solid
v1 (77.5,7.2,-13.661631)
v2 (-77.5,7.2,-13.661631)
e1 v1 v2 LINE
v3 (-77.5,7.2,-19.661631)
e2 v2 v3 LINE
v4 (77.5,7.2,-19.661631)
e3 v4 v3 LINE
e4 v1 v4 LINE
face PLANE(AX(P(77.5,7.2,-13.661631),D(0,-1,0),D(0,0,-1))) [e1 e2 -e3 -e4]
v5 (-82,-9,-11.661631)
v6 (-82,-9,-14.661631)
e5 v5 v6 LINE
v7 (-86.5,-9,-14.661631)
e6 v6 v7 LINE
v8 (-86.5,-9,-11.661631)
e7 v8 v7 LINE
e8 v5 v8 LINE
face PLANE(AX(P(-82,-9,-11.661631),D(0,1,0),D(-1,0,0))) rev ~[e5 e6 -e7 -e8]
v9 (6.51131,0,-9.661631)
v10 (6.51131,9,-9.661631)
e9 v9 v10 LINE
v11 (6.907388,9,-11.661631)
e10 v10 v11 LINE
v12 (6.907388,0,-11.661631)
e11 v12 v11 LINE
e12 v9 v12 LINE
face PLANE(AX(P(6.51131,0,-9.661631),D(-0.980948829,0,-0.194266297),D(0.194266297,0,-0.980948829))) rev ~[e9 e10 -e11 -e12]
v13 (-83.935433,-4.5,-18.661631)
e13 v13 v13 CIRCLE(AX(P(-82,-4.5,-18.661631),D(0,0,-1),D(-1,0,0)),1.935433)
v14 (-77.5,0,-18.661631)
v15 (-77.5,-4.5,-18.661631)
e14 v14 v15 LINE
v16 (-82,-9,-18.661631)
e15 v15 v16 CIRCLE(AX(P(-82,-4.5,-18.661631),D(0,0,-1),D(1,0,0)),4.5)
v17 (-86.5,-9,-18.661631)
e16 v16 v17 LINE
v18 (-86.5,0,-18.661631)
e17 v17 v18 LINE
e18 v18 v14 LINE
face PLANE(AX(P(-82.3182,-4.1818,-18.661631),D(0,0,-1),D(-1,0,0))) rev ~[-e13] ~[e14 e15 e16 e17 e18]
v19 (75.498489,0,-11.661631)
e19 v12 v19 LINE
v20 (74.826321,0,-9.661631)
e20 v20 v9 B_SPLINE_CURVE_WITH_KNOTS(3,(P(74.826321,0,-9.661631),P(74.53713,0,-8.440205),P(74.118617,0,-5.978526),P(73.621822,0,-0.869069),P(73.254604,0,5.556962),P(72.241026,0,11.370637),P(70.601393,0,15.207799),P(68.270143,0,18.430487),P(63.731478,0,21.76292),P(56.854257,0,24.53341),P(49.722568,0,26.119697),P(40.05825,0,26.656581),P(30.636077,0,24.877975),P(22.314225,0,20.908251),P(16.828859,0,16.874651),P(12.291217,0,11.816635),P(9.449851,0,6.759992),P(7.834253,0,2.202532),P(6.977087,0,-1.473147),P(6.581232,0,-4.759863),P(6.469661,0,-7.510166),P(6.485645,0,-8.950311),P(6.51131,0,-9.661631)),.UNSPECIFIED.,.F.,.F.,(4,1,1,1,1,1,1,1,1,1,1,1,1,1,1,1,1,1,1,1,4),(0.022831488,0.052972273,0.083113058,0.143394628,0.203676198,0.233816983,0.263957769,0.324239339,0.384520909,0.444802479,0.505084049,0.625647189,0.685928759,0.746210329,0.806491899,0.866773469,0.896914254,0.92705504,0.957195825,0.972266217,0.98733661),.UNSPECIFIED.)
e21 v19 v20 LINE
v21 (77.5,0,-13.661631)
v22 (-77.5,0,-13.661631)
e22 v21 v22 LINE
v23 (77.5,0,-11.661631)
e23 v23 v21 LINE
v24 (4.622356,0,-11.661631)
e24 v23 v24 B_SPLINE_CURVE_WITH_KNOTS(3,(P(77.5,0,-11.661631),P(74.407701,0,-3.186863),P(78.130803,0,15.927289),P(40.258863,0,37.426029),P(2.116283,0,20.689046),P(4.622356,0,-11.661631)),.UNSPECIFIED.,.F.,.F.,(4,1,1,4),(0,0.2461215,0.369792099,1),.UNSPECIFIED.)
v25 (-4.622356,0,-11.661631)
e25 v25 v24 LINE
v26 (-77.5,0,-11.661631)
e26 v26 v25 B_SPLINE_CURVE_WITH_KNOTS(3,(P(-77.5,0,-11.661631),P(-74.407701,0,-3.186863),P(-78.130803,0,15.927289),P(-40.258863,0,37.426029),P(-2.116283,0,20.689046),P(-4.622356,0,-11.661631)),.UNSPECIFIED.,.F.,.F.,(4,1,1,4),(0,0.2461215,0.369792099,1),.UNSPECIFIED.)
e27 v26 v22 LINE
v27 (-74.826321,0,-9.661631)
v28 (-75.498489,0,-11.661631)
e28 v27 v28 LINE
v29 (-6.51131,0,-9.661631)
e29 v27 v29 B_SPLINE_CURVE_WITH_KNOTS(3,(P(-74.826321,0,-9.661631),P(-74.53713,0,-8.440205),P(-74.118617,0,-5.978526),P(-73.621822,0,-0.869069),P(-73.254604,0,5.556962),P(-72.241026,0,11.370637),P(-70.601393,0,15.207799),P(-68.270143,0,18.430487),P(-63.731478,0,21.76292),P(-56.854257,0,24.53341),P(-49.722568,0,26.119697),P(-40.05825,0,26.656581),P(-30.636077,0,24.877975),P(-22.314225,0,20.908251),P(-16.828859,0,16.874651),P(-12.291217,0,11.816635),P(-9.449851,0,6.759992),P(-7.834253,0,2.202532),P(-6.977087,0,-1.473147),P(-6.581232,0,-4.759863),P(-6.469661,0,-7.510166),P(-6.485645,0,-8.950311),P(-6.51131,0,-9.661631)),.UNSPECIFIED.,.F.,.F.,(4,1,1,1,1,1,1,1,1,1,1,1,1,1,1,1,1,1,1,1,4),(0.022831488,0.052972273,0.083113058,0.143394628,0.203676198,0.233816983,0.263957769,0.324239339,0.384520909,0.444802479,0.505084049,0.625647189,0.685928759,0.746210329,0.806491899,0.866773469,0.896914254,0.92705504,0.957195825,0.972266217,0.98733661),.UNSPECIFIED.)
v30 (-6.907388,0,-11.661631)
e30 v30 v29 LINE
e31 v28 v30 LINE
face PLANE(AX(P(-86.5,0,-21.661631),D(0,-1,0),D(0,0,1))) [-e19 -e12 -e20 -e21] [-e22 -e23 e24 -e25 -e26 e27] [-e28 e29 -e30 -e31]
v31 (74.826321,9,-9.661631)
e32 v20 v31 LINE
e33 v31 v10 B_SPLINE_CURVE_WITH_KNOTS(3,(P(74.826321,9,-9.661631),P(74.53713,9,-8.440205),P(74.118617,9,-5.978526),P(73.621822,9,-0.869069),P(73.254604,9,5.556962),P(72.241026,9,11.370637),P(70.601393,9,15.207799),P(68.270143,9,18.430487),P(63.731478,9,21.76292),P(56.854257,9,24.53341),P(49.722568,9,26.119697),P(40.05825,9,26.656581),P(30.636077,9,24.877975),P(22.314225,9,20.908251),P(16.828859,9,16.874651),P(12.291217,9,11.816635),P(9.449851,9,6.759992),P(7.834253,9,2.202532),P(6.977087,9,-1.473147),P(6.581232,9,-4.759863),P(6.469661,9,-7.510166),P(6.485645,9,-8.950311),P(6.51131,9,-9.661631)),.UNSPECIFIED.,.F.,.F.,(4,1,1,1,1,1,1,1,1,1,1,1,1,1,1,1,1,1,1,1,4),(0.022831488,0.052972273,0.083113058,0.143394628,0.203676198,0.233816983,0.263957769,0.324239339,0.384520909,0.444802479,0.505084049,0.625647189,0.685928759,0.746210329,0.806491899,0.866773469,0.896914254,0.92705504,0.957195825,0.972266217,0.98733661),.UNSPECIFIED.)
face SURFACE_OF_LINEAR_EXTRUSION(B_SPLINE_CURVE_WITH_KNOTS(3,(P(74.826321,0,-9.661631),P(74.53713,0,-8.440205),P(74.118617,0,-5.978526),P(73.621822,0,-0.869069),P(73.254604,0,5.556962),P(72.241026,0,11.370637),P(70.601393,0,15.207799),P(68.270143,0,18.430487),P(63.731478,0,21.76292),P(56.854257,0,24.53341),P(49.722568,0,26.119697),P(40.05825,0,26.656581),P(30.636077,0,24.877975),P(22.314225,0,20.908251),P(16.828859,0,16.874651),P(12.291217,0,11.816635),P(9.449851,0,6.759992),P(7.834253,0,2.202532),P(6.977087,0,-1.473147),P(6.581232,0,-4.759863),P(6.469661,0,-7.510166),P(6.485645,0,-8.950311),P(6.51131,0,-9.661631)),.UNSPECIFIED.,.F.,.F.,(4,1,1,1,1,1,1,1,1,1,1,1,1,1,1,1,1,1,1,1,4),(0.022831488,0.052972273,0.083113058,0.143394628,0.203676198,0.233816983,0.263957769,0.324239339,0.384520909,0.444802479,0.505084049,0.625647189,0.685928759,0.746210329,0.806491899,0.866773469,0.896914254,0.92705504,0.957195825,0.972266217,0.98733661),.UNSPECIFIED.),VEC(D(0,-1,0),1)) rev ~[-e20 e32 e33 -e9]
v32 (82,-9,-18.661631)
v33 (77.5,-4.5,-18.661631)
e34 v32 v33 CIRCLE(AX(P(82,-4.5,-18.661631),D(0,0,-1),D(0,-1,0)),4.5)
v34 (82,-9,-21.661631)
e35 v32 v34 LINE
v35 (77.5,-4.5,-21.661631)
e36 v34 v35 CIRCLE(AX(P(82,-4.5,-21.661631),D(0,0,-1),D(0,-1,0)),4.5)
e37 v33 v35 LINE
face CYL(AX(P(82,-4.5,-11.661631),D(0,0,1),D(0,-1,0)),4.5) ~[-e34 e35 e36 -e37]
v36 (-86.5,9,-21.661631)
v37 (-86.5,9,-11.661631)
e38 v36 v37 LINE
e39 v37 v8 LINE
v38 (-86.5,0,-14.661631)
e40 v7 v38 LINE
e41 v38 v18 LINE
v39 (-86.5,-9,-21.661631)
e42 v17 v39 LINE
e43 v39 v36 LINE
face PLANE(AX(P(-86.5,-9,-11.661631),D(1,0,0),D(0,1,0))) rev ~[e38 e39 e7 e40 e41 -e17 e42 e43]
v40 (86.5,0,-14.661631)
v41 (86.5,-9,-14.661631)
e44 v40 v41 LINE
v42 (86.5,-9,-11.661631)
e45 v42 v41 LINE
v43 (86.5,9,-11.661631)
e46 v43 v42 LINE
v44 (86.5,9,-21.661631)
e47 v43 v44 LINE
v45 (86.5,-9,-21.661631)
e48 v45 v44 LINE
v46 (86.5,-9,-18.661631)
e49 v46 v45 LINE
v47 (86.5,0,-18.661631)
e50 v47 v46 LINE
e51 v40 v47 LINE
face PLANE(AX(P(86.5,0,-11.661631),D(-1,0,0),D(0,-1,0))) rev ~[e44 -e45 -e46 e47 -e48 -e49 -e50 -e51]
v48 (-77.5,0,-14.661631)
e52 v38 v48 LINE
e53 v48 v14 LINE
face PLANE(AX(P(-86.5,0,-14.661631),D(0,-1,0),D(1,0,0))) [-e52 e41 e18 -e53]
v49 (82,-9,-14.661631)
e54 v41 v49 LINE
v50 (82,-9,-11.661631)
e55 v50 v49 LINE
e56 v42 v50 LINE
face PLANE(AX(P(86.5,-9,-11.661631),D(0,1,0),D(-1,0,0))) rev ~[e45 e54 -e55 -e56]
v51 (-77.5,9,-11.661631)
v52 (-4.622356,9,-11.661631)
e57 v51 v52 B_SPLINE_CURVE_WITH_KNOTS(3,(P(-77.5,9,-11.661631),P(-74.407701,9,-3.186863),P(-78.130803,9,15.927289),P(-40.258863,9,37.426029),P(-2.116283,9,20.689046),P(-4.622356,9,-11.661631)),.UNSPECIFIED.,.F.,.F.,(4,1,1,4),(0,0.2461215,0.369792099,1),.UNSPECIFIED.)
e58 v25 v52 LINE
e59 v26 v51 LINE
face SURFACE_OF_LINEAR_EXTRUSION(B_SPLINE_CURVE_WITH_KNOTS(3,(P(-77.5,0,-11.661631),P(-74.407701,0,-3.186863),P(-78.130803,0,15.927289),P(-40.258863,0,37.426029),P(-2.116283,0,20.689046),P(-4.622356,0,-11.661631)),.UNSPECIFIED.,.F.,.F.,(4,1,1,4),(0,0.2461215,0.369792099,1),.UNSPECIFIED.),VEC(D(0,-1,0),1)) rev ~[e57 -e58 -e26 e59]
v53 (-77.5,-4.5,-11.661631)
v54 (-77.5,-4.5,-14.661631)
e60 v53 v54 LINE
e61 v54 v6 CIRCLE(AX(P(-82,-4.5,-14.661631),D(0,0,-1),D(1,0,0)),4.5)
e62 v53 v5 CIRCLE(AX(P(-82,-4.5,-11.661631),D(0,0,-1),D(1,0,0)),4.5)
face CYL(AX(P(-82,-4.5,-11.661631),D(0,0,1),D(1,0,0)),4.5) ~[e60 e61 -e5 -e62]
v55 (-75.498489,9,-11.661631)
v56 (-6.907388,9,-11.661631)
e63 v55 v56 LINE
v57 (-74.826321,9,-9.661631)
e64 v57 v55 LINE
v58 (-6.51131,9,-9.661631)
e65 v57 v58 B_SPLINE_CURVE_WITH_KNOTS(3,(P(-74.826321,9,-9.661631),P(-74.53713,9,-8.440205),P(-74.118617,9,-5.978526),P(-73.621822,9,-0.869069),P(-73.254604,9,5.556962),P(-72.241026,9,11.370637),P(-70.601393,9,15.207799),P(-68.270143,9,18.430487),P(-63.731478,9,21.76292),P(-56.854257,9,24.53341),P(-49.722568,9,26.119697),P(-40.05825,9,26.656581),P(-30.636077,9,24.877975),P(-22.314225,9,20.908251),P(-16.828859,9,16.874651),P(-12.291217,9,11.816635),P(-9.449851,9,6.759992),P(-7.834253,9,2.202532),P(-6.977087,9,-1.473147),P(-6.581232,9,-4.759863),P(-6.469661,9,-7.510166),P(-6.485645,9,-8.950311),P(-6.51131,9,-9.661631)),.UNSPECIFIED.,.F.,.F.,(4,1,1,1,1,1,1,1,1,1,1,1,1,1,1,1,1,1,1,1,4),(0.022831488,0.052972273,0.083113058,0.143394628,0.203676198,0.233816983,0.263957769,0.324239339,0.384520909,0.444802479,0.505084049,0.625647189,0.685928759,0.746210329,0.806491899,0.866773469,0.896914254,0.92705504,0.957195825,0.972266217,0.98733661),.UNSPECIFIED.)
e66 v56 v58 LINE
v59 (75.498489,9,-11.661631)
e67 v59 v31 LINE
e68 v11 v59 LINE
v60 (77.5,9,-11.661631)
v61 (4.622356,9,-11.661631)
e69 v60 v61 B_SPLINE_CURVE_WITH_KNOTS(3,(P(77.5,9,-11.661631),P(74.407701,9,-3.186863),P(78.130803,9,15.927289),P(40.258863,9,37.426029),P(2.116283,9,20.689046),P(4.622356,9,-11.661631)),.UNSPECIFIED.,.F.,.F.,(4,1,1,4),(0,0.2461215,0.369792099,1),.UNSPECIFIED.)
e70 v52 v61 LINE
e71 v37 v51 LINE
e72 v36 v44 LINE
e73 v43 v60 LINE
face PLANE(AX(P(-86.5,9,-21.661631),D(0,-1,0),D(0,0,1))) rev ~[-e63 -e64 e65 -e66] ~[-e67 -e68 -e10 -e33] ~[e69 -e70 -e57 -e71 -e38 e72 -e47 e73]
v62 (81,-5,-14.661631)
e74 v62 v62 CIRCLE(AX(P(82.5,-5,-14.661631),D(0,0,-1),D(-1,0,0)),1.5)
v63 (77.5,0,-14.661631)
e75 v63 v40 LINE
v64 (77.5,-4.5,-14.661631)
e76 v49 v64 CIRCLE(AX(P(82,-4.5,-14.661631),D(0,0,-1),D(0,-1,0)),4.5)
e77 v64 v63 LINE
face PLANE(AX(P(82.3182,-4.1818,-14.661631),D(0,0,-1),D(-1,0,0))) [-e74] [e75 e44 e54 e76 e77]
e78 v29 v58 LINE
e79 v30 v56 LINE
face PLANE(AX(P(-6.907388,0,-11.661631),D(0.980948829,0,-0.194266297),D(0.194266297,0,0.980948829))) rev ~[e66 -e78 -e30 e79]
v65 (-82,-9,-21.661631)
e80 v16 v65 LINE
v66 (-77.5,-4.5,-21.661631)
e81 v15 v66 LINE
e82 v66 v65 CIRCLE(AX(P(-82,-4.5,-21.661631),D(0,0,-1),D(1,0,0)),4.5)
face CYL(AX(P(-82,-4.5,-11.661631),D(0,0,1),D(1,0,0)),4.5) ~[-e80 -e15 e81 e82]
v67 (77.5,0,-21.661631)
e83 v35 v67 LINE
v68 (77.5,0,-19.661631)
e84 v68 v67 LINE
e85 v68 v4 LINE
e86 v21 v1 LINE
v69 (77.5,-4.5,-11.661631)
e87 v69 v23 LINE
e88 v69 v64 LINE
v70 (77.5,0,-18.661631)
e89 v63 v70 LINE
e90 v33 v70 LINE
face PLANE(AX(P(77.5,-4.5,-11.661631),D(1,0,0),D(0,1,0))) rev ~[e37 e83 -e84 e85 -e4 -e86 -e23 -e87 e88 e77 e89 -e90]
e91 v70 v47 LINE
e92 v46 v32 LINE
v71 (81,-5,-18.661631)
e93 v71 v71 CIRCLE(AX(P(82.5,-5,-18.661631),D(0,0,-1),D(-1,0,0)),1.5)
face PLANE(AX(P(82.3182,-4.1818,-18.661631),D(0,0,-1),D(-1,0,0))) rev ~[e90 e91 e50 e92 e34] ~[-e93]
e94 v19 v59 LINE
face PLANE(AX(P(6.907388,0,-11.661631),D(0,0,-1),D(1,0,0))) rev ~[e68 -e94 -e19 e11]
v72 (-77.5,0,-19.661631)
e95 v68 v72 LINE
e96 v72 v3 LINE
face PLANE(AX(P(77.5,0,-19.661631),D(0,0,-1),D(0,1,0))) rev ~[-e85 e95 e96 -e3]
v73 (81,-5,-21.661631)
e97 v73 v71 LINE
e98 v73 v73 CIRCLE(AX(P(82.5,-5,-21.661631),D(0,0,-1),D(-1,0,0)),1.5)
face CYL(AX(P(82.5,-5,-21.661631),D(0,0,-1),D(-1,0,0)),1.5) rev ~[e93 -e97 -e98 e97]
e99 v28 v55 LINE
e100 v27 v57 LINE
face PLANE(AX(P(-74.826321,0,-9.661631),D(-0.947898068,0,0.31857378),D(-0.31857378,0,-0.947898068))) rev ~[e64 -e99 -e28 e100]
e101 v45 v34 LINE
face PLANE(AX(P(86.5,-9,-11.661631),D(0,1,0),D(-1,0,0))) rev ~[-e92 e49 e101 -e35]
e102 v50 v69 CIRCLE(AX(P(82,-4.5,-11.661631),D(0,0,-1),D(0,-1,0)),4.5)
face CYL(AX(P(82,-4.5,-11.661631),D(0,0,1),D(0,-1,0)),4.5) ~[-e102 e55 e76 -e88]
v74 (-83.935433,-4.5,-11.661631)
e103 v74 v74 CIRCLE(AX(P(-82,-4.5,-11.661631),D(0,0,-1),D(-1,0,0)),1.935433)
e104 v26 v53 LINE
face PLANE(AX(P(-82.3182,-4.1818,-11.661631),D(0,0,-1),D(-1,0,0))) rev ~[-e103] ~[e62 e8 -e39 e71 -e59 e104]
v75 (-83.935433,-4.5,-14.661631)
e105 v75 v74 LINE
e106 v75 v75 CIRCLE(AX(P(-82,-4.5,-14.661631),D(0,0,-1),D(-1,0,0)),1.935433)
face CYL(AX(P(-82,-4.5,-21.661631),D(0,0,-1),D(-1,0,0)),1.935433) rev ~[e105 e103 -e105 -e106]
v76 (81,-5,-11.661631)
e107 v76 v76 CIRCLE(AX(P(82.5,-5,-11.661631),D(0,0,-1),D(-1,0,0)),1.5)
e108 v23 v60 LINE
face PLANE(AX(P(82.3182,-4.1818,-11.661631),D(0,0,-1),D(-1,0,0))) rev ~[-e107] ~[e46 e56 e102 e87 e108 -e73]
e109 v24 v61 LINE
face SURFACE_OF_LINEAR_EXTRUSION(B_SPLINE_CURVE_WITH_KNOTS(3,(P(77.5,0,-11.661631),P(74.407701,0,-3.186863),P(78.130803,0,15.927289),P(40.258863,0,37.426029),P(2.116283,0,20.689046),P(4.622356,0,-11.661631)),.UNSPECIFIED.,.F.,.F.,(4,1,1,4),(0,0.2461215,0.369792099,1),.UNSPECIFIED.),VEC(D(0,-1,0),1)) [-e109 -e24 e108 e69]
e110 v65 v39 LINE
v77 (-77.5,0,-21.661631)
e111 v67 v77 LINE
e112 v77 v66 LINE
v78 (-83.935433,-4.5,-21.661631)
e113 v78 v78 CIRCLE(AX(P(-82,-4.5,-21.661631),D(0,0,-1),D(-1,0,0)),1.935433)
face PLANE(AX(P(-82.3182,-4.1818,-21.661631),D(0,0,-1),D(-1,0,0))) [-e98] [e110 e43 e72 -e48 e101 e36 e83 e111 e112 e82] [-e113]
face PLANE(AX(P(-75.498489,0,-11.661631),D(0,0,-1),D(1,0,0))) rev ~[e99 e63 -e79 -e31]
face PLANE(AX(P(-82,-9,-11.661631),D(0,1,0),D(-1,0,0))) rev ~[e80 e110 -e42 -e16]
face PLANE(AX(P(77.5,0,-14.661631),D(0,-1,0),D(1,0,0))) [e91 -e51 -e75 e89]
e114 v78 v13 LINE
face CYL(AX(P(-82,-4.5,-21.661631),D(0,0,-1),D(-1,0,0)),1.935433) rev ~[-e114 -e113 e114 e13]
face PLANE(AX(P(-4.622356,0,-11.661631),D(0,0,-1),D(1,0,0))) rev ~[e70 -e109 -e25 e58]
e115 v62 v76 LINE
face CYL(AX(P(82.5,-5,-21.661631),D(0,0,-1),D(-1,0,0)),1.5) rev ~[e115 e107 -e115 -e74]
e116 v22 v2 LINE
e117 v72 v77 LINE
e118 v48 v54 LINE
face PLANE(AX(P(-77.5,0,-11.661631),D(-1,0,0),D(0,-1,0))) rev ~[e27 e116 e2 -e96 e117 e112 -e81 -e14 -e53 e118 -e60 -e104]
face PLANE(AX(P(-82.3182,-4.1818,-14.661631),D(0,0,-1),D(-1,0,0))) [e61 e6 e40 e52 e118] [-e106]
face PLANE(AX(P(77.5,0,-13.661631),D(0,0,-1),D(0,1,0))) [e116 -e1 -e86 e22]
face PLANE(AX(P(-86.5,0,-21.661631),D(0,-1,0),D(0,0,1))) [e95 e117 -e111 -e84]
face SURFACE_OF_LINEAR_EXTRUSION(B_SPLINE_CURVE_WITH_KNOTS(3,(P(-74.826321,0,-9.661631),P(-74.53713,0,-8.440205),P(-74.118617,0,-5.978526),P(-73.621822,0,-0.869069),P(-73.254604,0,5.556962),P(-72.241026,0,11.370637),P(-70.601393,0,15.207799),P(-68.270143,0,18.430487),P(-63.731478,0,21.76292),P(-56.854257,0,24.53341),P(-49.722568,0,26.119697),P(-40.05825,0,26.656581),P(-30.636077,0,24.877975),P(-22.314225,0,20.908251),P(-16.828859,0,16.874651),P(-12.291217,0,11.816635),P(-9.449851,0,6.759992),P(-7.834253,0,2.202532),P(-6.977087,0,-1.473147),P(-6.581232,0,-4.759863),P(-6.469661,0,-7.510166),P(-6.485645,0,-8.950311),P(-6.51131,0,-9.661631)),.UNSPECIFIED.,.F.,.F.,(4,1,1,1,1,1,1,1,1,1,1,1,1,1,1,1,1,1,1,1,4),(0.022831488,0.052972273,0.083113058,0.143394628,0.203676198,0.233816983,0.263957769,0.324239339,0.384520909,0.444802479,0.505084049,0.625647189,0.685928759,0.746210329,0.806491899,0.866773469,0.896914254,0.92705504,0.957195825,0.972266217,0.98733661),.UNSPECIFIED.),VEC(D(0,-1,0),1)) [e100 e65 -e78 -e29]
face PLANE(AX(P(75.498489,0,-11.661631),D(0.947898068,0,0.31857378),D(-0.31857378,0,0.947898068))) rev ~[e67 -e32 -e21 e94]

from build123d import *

# Parameters (mm, degrees)
FRAME_DEPTH             = 9
SKETCH_5_W              = 10
SKETCH_5_H              = 9
CONNECTION_DEPTH        = 9
CONNECTION_2_DEPTH      = 5
CONNECTION_START        = -5
CONNECTION_3_DEPTH      = 5
CONNECTION_START_2      = -2
CONNECTION_4_DEPTH      = 2
CONNECTION_5_DEPTH      = 2
SKETCH_1966_W           = 6
SKETCH_1966_H           = 7.2
CUT_EXTRUDE_2047_DEPTH  = 155
SKETCH_12_W             = 10
SKETCH_12_H             = 9
CONNECTION_6_DEPTH      = 9
CONNECTION_7_DEPTH      = 5
CONNECTION_8_DEPTH      = 5
CONNECTION_9_DEPTH      = 2
CONNECTION_10_DEPTH     = 2
SKETCH_2692_OUTSIDE_W   = 211.196
SKETCH_2692_OUTSIDE_H   = 56.196
SKETCH_2692_OUTSIDE_R   = 1.5
SKETCH_2692_OUTSIDE_R_2 = 1.935432659
CUT_EXTRUDE_3247_DEPTH  = 101.317909756


with BuildPart() as part:
    # 草图1 → frame (new body)
    with BuildSketch(Plane(origin=(0, 0, 0), x_dir=(1, 0, 0), z_dir=(0, 1, 0))):
        with BuildLine():
            Line((77.5, 21.66163142), (-77.5, 21.66163142))
            Line((-77.5, 21.66163142), (-77.5, 11.66163142))
            add(Edge.make_bspline(
                [(-77.5, 11.66163142), (-74.407700798, 3.186863233), (-78.13080327, -15.927288699), (-40.25886312, -37.426028597), (-2.116282918, -20.689046368), (-4.622356495, 11.66163142)],
                knots=[0, 0, 0, 0, 0.2461215, 0.369792099, 1, 1, 1, 1], degree=3))
            Line((-4.622356495, 11.66163142), (4.622356495, 11.66163142))
            add(Edge.make_bspline(
                [(77.5, 11.66163142), (74.407700798, 3.186863233), (78.13080327, -15.927288699), (40.25886312, -37.426028597), (2.116282918, -20.689046368), (4.622356495, 11.66163142)],
                knots=[0, 0, 0, 0, 0.2461215, 0.369792099, 1, 1, 1, 1], degree=3))
            Line((77.5, 11.66163142), (77.5, 21.66163142))
        make_face()
        with BuildLine():
            Line((6.907388487, 11.66163142), (75.498489426, 11.66163142))
            Line((75.498489426, 11.66163142), (74.826320569, 9.66163142))
            add(Edge.make_bspline(
                [(74.826320569, 9.66163142), (74.537129512, 8.440205397), (74.118616889, 5.97852646), (73.621822389, 0.86906895), (73.254603503, -5.556962308), (72.241025744, -11.370637322), (70.601393479, -15.207799235), (68.270143007, -18.43048657), (63.731478169, -21.762919869), (56.85425746, -24.533410045), (49.722568077, -26.119696622), (40.058249914, -26.656581209), (30.63607695, -24.877975202), (22.314225365, -20.908251341), (16.828859323, -16.874650673), (12.291217041, -11.816635216), (9.449850549, -6.759991518), (7.834253455, -2.202532167), (6.977086921, 1.473147324), (6.581231794, 4.759863142), (6.469661343, 7.510165764), (6.485645336, 8.950311376), (6.511310136, 9.66163142)],
                knots=[0.022831488, 0.022831488, 0.022831488, 0.022831488, 0.052972273, 0.083113058, 0.143394628, 0.203676198, 0.233816983, 0.263957769, 0.324239339, 0.384520909, 0.444802479, 0.505084049, 0.625647189, 0.685928759, 0.746210329, 0.806491899, 0.866773469, 0.896914254, 0.92705504, 0.957195825, 0.972266217, 0.98733661, 0.98733661, 0.98733661, 0.98733661], degree=3))
            Line((6.511310136, 9.66163142), (6.907388487, 11.66163142))
        make_face(mode=Mode.SUBTRACT)
        with BuildLine():
            Line((-75.498489426, 11.66163142), (-6.907388487, 11.66163142))
            Line((-6.907388487, 11.66163142), (-6.511310136, 9.66163142))
            add(Edge.make_bspline(
                [(-74.826320569, 9.66163142), (-74.537129512, 8.440205397), (-74.118616889, 5.97852646), (-73.621822389, 0.86906895), (-73.254603503, -5.556962308), (-72.241025744, -11.370637322), (-70.601393479, -15.207799235), (-68.270143007, -18.43048657), (-63.731478169, -21.762919869), (-56.85425746, -24.533410045), (-49.722568077, -26.119696622), (-40.058249914, -26.656581209), (-30.63607695, -24.877975202), (-22.314225365, -20.908251341), (-16.828859323, -16.874650673), (-12.291217041, -11.816635216), (-9.449850549, -6.759991518), (-7.834253455, -2.202532167), (-6.977086921, 1.473147324), (-6.581231794, 4.759863142), (-6.469661343, 7.510165764), (-6.485645336, 8.950311376), (-6.511310136, 9.66163142)],
                knots=[0.022831488, 0.022831488, 0.022831488, 0.022831488, 0.052972273, 0.083113058, 0.143394628, 0.203676198, 0.233816983, 0.263957769, 0.324239339, 0.384520909, 0.444802479, 0.505084049, 0.625647189, 0.685928759, 0.746210329, 0.806491899, 0.866773469, 0.896914254, 0.92705504, 0.957195825, 0.972266217, 0.98733661, 0.98733661, 0.98733661, 0.98733661], degree=3))
            Line((-74.826320569, 9.66163142), (-75.498489426, 11.66163142))
        make_face(mode=Mode.SUBTRACT)
    extrude(amount=FRAME_DEPTH)

    # 草图5 → connection (add)
    with BuildSketch(Plane(origin=(86.5, 0, 0), x_dir=(0, 0, -1), z_dir=(1, 0, 0))):
        with Locations((16.66163142, 4.5)):
            Rectangle(SKETCH_5_W, SKETCH_5_H)
    extrude(amount=-CONNECTION_DEPTH)

    # 草图9 → connection 2 (add)
    with BuildSketch(Plane(origin=(0, 0, -16.66163142), x_dir=(-1, 0, 0), z_dir=(0, 0, -1))):
        with BuildLine():
            Line((-86.5, 0), (-86.5, -9))
            Line((-86.5, -9), (-82, -9))
            ThreePointArc((-82, -9), (-78.818019485, -7.681980515), (-77.5, -4.5))
            Line((-77.5, -4.5), (-77.5, 0))
            Line((-77.5, 0), (-86.5, 0))
        make_face()
    extrude(amount=CONNECTION_2_DEPTH)

    # 草图9<3> → connection 3 (add)
    with BuildSketch(Plane(origin=(0, 0, -16.66163142), x_dir=(-1, 0, 0), z_dir=(0, 0, -1)).offset(CONNECTION_START)):
        with BuildLine():
            Line((-86.5, 0), (-86.5, -9))
            Line((-86.5, -9), (-82, -9))
            ThreePointArc((-82, -9), (-78.818019485, -7.681980515), (-77.5, -4.5))
            Line((-77.5, -4.5), (-77.5, 0))
            Line((-77.5, 0), (-86.5, 0))
        make_face()
    extrude(amount=CONNECTION_3_DEPTH)

    # 草图9<4> → connection 4 (cut)
    with BuildSketch(Plane(origin=(0, 0, -16.66163142), x_dir=(-1, 0, 0), z_dir=(0, 0, -1)).offset(CONNECTION_START_2)):
        with BuildLine():
            Line((-86.5, 0), (-86.5, -9))
            Line((-86.5, -9), (-82, -9))
            ThreePointArc((-82, -9), (-78.818019485, -7.681980515), (-77.5, -4.5))
            Line((-77.5, -4.5), (-77.5, 0))
            Line((-77.5, 0), (-86.5, 0))
        make_face()
    extrude(amount=CONNECTION_4_DEPTH, mode=Mode.SUBTRACT)

    # 草图9<6> → connection 5 (cut)
    with BuildSketch(Plane(origin=(0, 0, -16.66163142), x_dir=(-1, 0, 0), z_dir=(0, 0, -1))):
        with BuildLine():
            Line((-86.5, 0), (-86.5, -9))
            Line((-86.5, -9), (-82, -9))
            ThreePointArc((-82, -9), (-78.818019485, -7.681980515), (-77.5, -4.5))
            Line((-77.5, -4.5), (-77.5, 0))
            Line((-77.5, 0), (-86.5, 0))
        make_face()
    extrude(amount=CONNECTION_5_DEPTH, mode=Mode.SUBTRACT)

    # Sketch 1966 → Cut-Extrude 2047 (cut)
    with BuildSketch(Plane(origin=(77.5, 0, 0), x_dir=(0, 0, -1), z_dir=(1, 0, 0))):
        with Locations((16.66163142, 3.6)):
            Rectangle(SKETCH_1966_W, SKETCH_1966_H)
    extrude(amount=-CUT_EXTRUDE_2047_DEPTH, mode=Mode.SUBTRACT)

    # 草图12 → connection 6 (add)
    with BuildSketch(Plane.ZY.offset(86.5)):
        with Locations((-16.66163142, 4.5)):
            Rectangle(SKETCH_12_W, SKETCH_12_H)
    extrude(amount=-CONNECTION_6_DEPTH)

    # 草图13 → connection 7 (add)
    with BuildSketch(Plane(origin=(0, 0, -16.66163142), x_dir=(-1, 0, 0), z_dir=(0, 0, -1))):
        with BuildLine():
            Line((86.5, 0), (77.5, 0))
            Line((77.5, 0), (77.5, -4.5))
            ThreePointArc((77.5, -4.5), (78.818019485, -7.681980515), (82, -9))
            Line((82, -9), (86.5, -9))
            Line((86.5, -9), (86.5, 0))
        make_face()
    extrude(amount=CONNECTION_7_DEPTH)

    # 草图13<2> → connection 8 (add)
    with BuildSketch(Plane(origin=(0, 0, -16.66163142), x_dir=(-1, 0, 0), z_dir=(0, 0, -1)).offset(CONNECTION_START)):
        with BuildLine():
            Line((86.5, 0), (77.5, 0))
            Line((77.5, 0), (77.5, -4.5))
            ThreePointArc((77.5, -4.5), (78.818019485, -7.681980515), (82, -9))
            Line((82, -9), (86.5, -9))
            Line((86.5, -9), (86.5, 0))
        make_face()
    extrude(amount=CONNECTION_8_DEPTH)

    # 草图13<3> → connection 9 (cut)
    with BuildSketch(Plane(origin=(0, 0, -16.66163142), x_dir=(-1, 0, 0), z_dir=(0, 0, -1)).offset(CONNECTION_START_2)):
        with BuildLine():
            Line((86.5, 0), (77.5, 0))
            Line((77.5, 0), (77.5, -4.5))
            ThreePointArc((77.5, -4.5), (78.818019485, -7.681980515), (82, -9))
            Line((82, -9), (86.5, -9))
            Line((86.5, -9), (86.5, 0))
        make_face()
    extrude(amount=CONNECTION_9_DEPTH, mode=Mode.SUBTRACT)

    # 草图13<4> → connection 10 (cut)
    with BuildSketch(Plane(origin=(0, 0, -16.66163142), x_dir=(-1, 0, 0), z_dir=(0, 0, -1))):
        with BuildLine():
            Line((86.5, 0), (77.5, 0))
            Line((77.5, 0), (77.5, -4.5))
            ThreePointArc((77.5, -4.5), (78.818019485, -7.681980515), (82, -9))
            Line((82, -9), (86.5, -9))
            Line((86.5, -9), (86.5, 0))
        make_face()
    extrude(amount=CONNECTION_10_DEPTH, mode=Mode.SUBTRACT)

    # Sketch 2692 outside → Cut-Extrude 3247 (cut, through all)
    # profile 1 of 3: a face of its own
    with BuildSketch(Plane(origin=(0, 0, -21.66163142), x_dir=(-1, 0, 0), z_dir=(0, 0, -1))):
        Rectangle(SKETCH_2692_OUTSIDE_W, SKETCH_2692_OUTSIDE_H)
        with BuildLine():
            Line((-86.5, 9), (-86.5, -9))
            Line((-86.5, -9), (-82, -9))
            ThreePointArc((-82, -9), (-78.818019485, -7.681980515), (-77.5, -4.5))
            Line((-77.5, -4.5), (-77.5, 0))
            Line((-77.5, 0), (77.5, 0))
            Line((77.5, 0), (77.5, -4.5))
            ThreePointArc((77.5, -4.5), (78.818019485, -7.681980515), (82, -9))
            Line((82, -9), (86.5, -9))
            Line((86.5, -9), (86.5, 9))
            Line((86.5, 9), (-86.5, 9))
        make_face(mode=Mode.SUBTRACT)
    # profile 2 of 3: a face of its own
    with BuildSketch(Plane(origin=(0, 0, -21.66163142), x_dir=(-1, 0, 0), z_dir=(0, 0, -1))):
        with Locations((-82.5, -5)):
            Circle(SKETCH_2692_OUTSIDE_R)
    # profile 3 of 3: a face of its own
    with BuildSketch(Plane(origin=(0, 0, -21.66163142), x_dir=(-1, 0, 0), z_dir=(0, 0, -1))):
        with Locations((82, -4.5)):
            Circle(SKETCH_2692_OUTSIDE_R_2)
    extrude(amount=-CUT_EXTRUDE_3247_DEPTH, mode=Mode.SUBTRACT)


solid = part.part
